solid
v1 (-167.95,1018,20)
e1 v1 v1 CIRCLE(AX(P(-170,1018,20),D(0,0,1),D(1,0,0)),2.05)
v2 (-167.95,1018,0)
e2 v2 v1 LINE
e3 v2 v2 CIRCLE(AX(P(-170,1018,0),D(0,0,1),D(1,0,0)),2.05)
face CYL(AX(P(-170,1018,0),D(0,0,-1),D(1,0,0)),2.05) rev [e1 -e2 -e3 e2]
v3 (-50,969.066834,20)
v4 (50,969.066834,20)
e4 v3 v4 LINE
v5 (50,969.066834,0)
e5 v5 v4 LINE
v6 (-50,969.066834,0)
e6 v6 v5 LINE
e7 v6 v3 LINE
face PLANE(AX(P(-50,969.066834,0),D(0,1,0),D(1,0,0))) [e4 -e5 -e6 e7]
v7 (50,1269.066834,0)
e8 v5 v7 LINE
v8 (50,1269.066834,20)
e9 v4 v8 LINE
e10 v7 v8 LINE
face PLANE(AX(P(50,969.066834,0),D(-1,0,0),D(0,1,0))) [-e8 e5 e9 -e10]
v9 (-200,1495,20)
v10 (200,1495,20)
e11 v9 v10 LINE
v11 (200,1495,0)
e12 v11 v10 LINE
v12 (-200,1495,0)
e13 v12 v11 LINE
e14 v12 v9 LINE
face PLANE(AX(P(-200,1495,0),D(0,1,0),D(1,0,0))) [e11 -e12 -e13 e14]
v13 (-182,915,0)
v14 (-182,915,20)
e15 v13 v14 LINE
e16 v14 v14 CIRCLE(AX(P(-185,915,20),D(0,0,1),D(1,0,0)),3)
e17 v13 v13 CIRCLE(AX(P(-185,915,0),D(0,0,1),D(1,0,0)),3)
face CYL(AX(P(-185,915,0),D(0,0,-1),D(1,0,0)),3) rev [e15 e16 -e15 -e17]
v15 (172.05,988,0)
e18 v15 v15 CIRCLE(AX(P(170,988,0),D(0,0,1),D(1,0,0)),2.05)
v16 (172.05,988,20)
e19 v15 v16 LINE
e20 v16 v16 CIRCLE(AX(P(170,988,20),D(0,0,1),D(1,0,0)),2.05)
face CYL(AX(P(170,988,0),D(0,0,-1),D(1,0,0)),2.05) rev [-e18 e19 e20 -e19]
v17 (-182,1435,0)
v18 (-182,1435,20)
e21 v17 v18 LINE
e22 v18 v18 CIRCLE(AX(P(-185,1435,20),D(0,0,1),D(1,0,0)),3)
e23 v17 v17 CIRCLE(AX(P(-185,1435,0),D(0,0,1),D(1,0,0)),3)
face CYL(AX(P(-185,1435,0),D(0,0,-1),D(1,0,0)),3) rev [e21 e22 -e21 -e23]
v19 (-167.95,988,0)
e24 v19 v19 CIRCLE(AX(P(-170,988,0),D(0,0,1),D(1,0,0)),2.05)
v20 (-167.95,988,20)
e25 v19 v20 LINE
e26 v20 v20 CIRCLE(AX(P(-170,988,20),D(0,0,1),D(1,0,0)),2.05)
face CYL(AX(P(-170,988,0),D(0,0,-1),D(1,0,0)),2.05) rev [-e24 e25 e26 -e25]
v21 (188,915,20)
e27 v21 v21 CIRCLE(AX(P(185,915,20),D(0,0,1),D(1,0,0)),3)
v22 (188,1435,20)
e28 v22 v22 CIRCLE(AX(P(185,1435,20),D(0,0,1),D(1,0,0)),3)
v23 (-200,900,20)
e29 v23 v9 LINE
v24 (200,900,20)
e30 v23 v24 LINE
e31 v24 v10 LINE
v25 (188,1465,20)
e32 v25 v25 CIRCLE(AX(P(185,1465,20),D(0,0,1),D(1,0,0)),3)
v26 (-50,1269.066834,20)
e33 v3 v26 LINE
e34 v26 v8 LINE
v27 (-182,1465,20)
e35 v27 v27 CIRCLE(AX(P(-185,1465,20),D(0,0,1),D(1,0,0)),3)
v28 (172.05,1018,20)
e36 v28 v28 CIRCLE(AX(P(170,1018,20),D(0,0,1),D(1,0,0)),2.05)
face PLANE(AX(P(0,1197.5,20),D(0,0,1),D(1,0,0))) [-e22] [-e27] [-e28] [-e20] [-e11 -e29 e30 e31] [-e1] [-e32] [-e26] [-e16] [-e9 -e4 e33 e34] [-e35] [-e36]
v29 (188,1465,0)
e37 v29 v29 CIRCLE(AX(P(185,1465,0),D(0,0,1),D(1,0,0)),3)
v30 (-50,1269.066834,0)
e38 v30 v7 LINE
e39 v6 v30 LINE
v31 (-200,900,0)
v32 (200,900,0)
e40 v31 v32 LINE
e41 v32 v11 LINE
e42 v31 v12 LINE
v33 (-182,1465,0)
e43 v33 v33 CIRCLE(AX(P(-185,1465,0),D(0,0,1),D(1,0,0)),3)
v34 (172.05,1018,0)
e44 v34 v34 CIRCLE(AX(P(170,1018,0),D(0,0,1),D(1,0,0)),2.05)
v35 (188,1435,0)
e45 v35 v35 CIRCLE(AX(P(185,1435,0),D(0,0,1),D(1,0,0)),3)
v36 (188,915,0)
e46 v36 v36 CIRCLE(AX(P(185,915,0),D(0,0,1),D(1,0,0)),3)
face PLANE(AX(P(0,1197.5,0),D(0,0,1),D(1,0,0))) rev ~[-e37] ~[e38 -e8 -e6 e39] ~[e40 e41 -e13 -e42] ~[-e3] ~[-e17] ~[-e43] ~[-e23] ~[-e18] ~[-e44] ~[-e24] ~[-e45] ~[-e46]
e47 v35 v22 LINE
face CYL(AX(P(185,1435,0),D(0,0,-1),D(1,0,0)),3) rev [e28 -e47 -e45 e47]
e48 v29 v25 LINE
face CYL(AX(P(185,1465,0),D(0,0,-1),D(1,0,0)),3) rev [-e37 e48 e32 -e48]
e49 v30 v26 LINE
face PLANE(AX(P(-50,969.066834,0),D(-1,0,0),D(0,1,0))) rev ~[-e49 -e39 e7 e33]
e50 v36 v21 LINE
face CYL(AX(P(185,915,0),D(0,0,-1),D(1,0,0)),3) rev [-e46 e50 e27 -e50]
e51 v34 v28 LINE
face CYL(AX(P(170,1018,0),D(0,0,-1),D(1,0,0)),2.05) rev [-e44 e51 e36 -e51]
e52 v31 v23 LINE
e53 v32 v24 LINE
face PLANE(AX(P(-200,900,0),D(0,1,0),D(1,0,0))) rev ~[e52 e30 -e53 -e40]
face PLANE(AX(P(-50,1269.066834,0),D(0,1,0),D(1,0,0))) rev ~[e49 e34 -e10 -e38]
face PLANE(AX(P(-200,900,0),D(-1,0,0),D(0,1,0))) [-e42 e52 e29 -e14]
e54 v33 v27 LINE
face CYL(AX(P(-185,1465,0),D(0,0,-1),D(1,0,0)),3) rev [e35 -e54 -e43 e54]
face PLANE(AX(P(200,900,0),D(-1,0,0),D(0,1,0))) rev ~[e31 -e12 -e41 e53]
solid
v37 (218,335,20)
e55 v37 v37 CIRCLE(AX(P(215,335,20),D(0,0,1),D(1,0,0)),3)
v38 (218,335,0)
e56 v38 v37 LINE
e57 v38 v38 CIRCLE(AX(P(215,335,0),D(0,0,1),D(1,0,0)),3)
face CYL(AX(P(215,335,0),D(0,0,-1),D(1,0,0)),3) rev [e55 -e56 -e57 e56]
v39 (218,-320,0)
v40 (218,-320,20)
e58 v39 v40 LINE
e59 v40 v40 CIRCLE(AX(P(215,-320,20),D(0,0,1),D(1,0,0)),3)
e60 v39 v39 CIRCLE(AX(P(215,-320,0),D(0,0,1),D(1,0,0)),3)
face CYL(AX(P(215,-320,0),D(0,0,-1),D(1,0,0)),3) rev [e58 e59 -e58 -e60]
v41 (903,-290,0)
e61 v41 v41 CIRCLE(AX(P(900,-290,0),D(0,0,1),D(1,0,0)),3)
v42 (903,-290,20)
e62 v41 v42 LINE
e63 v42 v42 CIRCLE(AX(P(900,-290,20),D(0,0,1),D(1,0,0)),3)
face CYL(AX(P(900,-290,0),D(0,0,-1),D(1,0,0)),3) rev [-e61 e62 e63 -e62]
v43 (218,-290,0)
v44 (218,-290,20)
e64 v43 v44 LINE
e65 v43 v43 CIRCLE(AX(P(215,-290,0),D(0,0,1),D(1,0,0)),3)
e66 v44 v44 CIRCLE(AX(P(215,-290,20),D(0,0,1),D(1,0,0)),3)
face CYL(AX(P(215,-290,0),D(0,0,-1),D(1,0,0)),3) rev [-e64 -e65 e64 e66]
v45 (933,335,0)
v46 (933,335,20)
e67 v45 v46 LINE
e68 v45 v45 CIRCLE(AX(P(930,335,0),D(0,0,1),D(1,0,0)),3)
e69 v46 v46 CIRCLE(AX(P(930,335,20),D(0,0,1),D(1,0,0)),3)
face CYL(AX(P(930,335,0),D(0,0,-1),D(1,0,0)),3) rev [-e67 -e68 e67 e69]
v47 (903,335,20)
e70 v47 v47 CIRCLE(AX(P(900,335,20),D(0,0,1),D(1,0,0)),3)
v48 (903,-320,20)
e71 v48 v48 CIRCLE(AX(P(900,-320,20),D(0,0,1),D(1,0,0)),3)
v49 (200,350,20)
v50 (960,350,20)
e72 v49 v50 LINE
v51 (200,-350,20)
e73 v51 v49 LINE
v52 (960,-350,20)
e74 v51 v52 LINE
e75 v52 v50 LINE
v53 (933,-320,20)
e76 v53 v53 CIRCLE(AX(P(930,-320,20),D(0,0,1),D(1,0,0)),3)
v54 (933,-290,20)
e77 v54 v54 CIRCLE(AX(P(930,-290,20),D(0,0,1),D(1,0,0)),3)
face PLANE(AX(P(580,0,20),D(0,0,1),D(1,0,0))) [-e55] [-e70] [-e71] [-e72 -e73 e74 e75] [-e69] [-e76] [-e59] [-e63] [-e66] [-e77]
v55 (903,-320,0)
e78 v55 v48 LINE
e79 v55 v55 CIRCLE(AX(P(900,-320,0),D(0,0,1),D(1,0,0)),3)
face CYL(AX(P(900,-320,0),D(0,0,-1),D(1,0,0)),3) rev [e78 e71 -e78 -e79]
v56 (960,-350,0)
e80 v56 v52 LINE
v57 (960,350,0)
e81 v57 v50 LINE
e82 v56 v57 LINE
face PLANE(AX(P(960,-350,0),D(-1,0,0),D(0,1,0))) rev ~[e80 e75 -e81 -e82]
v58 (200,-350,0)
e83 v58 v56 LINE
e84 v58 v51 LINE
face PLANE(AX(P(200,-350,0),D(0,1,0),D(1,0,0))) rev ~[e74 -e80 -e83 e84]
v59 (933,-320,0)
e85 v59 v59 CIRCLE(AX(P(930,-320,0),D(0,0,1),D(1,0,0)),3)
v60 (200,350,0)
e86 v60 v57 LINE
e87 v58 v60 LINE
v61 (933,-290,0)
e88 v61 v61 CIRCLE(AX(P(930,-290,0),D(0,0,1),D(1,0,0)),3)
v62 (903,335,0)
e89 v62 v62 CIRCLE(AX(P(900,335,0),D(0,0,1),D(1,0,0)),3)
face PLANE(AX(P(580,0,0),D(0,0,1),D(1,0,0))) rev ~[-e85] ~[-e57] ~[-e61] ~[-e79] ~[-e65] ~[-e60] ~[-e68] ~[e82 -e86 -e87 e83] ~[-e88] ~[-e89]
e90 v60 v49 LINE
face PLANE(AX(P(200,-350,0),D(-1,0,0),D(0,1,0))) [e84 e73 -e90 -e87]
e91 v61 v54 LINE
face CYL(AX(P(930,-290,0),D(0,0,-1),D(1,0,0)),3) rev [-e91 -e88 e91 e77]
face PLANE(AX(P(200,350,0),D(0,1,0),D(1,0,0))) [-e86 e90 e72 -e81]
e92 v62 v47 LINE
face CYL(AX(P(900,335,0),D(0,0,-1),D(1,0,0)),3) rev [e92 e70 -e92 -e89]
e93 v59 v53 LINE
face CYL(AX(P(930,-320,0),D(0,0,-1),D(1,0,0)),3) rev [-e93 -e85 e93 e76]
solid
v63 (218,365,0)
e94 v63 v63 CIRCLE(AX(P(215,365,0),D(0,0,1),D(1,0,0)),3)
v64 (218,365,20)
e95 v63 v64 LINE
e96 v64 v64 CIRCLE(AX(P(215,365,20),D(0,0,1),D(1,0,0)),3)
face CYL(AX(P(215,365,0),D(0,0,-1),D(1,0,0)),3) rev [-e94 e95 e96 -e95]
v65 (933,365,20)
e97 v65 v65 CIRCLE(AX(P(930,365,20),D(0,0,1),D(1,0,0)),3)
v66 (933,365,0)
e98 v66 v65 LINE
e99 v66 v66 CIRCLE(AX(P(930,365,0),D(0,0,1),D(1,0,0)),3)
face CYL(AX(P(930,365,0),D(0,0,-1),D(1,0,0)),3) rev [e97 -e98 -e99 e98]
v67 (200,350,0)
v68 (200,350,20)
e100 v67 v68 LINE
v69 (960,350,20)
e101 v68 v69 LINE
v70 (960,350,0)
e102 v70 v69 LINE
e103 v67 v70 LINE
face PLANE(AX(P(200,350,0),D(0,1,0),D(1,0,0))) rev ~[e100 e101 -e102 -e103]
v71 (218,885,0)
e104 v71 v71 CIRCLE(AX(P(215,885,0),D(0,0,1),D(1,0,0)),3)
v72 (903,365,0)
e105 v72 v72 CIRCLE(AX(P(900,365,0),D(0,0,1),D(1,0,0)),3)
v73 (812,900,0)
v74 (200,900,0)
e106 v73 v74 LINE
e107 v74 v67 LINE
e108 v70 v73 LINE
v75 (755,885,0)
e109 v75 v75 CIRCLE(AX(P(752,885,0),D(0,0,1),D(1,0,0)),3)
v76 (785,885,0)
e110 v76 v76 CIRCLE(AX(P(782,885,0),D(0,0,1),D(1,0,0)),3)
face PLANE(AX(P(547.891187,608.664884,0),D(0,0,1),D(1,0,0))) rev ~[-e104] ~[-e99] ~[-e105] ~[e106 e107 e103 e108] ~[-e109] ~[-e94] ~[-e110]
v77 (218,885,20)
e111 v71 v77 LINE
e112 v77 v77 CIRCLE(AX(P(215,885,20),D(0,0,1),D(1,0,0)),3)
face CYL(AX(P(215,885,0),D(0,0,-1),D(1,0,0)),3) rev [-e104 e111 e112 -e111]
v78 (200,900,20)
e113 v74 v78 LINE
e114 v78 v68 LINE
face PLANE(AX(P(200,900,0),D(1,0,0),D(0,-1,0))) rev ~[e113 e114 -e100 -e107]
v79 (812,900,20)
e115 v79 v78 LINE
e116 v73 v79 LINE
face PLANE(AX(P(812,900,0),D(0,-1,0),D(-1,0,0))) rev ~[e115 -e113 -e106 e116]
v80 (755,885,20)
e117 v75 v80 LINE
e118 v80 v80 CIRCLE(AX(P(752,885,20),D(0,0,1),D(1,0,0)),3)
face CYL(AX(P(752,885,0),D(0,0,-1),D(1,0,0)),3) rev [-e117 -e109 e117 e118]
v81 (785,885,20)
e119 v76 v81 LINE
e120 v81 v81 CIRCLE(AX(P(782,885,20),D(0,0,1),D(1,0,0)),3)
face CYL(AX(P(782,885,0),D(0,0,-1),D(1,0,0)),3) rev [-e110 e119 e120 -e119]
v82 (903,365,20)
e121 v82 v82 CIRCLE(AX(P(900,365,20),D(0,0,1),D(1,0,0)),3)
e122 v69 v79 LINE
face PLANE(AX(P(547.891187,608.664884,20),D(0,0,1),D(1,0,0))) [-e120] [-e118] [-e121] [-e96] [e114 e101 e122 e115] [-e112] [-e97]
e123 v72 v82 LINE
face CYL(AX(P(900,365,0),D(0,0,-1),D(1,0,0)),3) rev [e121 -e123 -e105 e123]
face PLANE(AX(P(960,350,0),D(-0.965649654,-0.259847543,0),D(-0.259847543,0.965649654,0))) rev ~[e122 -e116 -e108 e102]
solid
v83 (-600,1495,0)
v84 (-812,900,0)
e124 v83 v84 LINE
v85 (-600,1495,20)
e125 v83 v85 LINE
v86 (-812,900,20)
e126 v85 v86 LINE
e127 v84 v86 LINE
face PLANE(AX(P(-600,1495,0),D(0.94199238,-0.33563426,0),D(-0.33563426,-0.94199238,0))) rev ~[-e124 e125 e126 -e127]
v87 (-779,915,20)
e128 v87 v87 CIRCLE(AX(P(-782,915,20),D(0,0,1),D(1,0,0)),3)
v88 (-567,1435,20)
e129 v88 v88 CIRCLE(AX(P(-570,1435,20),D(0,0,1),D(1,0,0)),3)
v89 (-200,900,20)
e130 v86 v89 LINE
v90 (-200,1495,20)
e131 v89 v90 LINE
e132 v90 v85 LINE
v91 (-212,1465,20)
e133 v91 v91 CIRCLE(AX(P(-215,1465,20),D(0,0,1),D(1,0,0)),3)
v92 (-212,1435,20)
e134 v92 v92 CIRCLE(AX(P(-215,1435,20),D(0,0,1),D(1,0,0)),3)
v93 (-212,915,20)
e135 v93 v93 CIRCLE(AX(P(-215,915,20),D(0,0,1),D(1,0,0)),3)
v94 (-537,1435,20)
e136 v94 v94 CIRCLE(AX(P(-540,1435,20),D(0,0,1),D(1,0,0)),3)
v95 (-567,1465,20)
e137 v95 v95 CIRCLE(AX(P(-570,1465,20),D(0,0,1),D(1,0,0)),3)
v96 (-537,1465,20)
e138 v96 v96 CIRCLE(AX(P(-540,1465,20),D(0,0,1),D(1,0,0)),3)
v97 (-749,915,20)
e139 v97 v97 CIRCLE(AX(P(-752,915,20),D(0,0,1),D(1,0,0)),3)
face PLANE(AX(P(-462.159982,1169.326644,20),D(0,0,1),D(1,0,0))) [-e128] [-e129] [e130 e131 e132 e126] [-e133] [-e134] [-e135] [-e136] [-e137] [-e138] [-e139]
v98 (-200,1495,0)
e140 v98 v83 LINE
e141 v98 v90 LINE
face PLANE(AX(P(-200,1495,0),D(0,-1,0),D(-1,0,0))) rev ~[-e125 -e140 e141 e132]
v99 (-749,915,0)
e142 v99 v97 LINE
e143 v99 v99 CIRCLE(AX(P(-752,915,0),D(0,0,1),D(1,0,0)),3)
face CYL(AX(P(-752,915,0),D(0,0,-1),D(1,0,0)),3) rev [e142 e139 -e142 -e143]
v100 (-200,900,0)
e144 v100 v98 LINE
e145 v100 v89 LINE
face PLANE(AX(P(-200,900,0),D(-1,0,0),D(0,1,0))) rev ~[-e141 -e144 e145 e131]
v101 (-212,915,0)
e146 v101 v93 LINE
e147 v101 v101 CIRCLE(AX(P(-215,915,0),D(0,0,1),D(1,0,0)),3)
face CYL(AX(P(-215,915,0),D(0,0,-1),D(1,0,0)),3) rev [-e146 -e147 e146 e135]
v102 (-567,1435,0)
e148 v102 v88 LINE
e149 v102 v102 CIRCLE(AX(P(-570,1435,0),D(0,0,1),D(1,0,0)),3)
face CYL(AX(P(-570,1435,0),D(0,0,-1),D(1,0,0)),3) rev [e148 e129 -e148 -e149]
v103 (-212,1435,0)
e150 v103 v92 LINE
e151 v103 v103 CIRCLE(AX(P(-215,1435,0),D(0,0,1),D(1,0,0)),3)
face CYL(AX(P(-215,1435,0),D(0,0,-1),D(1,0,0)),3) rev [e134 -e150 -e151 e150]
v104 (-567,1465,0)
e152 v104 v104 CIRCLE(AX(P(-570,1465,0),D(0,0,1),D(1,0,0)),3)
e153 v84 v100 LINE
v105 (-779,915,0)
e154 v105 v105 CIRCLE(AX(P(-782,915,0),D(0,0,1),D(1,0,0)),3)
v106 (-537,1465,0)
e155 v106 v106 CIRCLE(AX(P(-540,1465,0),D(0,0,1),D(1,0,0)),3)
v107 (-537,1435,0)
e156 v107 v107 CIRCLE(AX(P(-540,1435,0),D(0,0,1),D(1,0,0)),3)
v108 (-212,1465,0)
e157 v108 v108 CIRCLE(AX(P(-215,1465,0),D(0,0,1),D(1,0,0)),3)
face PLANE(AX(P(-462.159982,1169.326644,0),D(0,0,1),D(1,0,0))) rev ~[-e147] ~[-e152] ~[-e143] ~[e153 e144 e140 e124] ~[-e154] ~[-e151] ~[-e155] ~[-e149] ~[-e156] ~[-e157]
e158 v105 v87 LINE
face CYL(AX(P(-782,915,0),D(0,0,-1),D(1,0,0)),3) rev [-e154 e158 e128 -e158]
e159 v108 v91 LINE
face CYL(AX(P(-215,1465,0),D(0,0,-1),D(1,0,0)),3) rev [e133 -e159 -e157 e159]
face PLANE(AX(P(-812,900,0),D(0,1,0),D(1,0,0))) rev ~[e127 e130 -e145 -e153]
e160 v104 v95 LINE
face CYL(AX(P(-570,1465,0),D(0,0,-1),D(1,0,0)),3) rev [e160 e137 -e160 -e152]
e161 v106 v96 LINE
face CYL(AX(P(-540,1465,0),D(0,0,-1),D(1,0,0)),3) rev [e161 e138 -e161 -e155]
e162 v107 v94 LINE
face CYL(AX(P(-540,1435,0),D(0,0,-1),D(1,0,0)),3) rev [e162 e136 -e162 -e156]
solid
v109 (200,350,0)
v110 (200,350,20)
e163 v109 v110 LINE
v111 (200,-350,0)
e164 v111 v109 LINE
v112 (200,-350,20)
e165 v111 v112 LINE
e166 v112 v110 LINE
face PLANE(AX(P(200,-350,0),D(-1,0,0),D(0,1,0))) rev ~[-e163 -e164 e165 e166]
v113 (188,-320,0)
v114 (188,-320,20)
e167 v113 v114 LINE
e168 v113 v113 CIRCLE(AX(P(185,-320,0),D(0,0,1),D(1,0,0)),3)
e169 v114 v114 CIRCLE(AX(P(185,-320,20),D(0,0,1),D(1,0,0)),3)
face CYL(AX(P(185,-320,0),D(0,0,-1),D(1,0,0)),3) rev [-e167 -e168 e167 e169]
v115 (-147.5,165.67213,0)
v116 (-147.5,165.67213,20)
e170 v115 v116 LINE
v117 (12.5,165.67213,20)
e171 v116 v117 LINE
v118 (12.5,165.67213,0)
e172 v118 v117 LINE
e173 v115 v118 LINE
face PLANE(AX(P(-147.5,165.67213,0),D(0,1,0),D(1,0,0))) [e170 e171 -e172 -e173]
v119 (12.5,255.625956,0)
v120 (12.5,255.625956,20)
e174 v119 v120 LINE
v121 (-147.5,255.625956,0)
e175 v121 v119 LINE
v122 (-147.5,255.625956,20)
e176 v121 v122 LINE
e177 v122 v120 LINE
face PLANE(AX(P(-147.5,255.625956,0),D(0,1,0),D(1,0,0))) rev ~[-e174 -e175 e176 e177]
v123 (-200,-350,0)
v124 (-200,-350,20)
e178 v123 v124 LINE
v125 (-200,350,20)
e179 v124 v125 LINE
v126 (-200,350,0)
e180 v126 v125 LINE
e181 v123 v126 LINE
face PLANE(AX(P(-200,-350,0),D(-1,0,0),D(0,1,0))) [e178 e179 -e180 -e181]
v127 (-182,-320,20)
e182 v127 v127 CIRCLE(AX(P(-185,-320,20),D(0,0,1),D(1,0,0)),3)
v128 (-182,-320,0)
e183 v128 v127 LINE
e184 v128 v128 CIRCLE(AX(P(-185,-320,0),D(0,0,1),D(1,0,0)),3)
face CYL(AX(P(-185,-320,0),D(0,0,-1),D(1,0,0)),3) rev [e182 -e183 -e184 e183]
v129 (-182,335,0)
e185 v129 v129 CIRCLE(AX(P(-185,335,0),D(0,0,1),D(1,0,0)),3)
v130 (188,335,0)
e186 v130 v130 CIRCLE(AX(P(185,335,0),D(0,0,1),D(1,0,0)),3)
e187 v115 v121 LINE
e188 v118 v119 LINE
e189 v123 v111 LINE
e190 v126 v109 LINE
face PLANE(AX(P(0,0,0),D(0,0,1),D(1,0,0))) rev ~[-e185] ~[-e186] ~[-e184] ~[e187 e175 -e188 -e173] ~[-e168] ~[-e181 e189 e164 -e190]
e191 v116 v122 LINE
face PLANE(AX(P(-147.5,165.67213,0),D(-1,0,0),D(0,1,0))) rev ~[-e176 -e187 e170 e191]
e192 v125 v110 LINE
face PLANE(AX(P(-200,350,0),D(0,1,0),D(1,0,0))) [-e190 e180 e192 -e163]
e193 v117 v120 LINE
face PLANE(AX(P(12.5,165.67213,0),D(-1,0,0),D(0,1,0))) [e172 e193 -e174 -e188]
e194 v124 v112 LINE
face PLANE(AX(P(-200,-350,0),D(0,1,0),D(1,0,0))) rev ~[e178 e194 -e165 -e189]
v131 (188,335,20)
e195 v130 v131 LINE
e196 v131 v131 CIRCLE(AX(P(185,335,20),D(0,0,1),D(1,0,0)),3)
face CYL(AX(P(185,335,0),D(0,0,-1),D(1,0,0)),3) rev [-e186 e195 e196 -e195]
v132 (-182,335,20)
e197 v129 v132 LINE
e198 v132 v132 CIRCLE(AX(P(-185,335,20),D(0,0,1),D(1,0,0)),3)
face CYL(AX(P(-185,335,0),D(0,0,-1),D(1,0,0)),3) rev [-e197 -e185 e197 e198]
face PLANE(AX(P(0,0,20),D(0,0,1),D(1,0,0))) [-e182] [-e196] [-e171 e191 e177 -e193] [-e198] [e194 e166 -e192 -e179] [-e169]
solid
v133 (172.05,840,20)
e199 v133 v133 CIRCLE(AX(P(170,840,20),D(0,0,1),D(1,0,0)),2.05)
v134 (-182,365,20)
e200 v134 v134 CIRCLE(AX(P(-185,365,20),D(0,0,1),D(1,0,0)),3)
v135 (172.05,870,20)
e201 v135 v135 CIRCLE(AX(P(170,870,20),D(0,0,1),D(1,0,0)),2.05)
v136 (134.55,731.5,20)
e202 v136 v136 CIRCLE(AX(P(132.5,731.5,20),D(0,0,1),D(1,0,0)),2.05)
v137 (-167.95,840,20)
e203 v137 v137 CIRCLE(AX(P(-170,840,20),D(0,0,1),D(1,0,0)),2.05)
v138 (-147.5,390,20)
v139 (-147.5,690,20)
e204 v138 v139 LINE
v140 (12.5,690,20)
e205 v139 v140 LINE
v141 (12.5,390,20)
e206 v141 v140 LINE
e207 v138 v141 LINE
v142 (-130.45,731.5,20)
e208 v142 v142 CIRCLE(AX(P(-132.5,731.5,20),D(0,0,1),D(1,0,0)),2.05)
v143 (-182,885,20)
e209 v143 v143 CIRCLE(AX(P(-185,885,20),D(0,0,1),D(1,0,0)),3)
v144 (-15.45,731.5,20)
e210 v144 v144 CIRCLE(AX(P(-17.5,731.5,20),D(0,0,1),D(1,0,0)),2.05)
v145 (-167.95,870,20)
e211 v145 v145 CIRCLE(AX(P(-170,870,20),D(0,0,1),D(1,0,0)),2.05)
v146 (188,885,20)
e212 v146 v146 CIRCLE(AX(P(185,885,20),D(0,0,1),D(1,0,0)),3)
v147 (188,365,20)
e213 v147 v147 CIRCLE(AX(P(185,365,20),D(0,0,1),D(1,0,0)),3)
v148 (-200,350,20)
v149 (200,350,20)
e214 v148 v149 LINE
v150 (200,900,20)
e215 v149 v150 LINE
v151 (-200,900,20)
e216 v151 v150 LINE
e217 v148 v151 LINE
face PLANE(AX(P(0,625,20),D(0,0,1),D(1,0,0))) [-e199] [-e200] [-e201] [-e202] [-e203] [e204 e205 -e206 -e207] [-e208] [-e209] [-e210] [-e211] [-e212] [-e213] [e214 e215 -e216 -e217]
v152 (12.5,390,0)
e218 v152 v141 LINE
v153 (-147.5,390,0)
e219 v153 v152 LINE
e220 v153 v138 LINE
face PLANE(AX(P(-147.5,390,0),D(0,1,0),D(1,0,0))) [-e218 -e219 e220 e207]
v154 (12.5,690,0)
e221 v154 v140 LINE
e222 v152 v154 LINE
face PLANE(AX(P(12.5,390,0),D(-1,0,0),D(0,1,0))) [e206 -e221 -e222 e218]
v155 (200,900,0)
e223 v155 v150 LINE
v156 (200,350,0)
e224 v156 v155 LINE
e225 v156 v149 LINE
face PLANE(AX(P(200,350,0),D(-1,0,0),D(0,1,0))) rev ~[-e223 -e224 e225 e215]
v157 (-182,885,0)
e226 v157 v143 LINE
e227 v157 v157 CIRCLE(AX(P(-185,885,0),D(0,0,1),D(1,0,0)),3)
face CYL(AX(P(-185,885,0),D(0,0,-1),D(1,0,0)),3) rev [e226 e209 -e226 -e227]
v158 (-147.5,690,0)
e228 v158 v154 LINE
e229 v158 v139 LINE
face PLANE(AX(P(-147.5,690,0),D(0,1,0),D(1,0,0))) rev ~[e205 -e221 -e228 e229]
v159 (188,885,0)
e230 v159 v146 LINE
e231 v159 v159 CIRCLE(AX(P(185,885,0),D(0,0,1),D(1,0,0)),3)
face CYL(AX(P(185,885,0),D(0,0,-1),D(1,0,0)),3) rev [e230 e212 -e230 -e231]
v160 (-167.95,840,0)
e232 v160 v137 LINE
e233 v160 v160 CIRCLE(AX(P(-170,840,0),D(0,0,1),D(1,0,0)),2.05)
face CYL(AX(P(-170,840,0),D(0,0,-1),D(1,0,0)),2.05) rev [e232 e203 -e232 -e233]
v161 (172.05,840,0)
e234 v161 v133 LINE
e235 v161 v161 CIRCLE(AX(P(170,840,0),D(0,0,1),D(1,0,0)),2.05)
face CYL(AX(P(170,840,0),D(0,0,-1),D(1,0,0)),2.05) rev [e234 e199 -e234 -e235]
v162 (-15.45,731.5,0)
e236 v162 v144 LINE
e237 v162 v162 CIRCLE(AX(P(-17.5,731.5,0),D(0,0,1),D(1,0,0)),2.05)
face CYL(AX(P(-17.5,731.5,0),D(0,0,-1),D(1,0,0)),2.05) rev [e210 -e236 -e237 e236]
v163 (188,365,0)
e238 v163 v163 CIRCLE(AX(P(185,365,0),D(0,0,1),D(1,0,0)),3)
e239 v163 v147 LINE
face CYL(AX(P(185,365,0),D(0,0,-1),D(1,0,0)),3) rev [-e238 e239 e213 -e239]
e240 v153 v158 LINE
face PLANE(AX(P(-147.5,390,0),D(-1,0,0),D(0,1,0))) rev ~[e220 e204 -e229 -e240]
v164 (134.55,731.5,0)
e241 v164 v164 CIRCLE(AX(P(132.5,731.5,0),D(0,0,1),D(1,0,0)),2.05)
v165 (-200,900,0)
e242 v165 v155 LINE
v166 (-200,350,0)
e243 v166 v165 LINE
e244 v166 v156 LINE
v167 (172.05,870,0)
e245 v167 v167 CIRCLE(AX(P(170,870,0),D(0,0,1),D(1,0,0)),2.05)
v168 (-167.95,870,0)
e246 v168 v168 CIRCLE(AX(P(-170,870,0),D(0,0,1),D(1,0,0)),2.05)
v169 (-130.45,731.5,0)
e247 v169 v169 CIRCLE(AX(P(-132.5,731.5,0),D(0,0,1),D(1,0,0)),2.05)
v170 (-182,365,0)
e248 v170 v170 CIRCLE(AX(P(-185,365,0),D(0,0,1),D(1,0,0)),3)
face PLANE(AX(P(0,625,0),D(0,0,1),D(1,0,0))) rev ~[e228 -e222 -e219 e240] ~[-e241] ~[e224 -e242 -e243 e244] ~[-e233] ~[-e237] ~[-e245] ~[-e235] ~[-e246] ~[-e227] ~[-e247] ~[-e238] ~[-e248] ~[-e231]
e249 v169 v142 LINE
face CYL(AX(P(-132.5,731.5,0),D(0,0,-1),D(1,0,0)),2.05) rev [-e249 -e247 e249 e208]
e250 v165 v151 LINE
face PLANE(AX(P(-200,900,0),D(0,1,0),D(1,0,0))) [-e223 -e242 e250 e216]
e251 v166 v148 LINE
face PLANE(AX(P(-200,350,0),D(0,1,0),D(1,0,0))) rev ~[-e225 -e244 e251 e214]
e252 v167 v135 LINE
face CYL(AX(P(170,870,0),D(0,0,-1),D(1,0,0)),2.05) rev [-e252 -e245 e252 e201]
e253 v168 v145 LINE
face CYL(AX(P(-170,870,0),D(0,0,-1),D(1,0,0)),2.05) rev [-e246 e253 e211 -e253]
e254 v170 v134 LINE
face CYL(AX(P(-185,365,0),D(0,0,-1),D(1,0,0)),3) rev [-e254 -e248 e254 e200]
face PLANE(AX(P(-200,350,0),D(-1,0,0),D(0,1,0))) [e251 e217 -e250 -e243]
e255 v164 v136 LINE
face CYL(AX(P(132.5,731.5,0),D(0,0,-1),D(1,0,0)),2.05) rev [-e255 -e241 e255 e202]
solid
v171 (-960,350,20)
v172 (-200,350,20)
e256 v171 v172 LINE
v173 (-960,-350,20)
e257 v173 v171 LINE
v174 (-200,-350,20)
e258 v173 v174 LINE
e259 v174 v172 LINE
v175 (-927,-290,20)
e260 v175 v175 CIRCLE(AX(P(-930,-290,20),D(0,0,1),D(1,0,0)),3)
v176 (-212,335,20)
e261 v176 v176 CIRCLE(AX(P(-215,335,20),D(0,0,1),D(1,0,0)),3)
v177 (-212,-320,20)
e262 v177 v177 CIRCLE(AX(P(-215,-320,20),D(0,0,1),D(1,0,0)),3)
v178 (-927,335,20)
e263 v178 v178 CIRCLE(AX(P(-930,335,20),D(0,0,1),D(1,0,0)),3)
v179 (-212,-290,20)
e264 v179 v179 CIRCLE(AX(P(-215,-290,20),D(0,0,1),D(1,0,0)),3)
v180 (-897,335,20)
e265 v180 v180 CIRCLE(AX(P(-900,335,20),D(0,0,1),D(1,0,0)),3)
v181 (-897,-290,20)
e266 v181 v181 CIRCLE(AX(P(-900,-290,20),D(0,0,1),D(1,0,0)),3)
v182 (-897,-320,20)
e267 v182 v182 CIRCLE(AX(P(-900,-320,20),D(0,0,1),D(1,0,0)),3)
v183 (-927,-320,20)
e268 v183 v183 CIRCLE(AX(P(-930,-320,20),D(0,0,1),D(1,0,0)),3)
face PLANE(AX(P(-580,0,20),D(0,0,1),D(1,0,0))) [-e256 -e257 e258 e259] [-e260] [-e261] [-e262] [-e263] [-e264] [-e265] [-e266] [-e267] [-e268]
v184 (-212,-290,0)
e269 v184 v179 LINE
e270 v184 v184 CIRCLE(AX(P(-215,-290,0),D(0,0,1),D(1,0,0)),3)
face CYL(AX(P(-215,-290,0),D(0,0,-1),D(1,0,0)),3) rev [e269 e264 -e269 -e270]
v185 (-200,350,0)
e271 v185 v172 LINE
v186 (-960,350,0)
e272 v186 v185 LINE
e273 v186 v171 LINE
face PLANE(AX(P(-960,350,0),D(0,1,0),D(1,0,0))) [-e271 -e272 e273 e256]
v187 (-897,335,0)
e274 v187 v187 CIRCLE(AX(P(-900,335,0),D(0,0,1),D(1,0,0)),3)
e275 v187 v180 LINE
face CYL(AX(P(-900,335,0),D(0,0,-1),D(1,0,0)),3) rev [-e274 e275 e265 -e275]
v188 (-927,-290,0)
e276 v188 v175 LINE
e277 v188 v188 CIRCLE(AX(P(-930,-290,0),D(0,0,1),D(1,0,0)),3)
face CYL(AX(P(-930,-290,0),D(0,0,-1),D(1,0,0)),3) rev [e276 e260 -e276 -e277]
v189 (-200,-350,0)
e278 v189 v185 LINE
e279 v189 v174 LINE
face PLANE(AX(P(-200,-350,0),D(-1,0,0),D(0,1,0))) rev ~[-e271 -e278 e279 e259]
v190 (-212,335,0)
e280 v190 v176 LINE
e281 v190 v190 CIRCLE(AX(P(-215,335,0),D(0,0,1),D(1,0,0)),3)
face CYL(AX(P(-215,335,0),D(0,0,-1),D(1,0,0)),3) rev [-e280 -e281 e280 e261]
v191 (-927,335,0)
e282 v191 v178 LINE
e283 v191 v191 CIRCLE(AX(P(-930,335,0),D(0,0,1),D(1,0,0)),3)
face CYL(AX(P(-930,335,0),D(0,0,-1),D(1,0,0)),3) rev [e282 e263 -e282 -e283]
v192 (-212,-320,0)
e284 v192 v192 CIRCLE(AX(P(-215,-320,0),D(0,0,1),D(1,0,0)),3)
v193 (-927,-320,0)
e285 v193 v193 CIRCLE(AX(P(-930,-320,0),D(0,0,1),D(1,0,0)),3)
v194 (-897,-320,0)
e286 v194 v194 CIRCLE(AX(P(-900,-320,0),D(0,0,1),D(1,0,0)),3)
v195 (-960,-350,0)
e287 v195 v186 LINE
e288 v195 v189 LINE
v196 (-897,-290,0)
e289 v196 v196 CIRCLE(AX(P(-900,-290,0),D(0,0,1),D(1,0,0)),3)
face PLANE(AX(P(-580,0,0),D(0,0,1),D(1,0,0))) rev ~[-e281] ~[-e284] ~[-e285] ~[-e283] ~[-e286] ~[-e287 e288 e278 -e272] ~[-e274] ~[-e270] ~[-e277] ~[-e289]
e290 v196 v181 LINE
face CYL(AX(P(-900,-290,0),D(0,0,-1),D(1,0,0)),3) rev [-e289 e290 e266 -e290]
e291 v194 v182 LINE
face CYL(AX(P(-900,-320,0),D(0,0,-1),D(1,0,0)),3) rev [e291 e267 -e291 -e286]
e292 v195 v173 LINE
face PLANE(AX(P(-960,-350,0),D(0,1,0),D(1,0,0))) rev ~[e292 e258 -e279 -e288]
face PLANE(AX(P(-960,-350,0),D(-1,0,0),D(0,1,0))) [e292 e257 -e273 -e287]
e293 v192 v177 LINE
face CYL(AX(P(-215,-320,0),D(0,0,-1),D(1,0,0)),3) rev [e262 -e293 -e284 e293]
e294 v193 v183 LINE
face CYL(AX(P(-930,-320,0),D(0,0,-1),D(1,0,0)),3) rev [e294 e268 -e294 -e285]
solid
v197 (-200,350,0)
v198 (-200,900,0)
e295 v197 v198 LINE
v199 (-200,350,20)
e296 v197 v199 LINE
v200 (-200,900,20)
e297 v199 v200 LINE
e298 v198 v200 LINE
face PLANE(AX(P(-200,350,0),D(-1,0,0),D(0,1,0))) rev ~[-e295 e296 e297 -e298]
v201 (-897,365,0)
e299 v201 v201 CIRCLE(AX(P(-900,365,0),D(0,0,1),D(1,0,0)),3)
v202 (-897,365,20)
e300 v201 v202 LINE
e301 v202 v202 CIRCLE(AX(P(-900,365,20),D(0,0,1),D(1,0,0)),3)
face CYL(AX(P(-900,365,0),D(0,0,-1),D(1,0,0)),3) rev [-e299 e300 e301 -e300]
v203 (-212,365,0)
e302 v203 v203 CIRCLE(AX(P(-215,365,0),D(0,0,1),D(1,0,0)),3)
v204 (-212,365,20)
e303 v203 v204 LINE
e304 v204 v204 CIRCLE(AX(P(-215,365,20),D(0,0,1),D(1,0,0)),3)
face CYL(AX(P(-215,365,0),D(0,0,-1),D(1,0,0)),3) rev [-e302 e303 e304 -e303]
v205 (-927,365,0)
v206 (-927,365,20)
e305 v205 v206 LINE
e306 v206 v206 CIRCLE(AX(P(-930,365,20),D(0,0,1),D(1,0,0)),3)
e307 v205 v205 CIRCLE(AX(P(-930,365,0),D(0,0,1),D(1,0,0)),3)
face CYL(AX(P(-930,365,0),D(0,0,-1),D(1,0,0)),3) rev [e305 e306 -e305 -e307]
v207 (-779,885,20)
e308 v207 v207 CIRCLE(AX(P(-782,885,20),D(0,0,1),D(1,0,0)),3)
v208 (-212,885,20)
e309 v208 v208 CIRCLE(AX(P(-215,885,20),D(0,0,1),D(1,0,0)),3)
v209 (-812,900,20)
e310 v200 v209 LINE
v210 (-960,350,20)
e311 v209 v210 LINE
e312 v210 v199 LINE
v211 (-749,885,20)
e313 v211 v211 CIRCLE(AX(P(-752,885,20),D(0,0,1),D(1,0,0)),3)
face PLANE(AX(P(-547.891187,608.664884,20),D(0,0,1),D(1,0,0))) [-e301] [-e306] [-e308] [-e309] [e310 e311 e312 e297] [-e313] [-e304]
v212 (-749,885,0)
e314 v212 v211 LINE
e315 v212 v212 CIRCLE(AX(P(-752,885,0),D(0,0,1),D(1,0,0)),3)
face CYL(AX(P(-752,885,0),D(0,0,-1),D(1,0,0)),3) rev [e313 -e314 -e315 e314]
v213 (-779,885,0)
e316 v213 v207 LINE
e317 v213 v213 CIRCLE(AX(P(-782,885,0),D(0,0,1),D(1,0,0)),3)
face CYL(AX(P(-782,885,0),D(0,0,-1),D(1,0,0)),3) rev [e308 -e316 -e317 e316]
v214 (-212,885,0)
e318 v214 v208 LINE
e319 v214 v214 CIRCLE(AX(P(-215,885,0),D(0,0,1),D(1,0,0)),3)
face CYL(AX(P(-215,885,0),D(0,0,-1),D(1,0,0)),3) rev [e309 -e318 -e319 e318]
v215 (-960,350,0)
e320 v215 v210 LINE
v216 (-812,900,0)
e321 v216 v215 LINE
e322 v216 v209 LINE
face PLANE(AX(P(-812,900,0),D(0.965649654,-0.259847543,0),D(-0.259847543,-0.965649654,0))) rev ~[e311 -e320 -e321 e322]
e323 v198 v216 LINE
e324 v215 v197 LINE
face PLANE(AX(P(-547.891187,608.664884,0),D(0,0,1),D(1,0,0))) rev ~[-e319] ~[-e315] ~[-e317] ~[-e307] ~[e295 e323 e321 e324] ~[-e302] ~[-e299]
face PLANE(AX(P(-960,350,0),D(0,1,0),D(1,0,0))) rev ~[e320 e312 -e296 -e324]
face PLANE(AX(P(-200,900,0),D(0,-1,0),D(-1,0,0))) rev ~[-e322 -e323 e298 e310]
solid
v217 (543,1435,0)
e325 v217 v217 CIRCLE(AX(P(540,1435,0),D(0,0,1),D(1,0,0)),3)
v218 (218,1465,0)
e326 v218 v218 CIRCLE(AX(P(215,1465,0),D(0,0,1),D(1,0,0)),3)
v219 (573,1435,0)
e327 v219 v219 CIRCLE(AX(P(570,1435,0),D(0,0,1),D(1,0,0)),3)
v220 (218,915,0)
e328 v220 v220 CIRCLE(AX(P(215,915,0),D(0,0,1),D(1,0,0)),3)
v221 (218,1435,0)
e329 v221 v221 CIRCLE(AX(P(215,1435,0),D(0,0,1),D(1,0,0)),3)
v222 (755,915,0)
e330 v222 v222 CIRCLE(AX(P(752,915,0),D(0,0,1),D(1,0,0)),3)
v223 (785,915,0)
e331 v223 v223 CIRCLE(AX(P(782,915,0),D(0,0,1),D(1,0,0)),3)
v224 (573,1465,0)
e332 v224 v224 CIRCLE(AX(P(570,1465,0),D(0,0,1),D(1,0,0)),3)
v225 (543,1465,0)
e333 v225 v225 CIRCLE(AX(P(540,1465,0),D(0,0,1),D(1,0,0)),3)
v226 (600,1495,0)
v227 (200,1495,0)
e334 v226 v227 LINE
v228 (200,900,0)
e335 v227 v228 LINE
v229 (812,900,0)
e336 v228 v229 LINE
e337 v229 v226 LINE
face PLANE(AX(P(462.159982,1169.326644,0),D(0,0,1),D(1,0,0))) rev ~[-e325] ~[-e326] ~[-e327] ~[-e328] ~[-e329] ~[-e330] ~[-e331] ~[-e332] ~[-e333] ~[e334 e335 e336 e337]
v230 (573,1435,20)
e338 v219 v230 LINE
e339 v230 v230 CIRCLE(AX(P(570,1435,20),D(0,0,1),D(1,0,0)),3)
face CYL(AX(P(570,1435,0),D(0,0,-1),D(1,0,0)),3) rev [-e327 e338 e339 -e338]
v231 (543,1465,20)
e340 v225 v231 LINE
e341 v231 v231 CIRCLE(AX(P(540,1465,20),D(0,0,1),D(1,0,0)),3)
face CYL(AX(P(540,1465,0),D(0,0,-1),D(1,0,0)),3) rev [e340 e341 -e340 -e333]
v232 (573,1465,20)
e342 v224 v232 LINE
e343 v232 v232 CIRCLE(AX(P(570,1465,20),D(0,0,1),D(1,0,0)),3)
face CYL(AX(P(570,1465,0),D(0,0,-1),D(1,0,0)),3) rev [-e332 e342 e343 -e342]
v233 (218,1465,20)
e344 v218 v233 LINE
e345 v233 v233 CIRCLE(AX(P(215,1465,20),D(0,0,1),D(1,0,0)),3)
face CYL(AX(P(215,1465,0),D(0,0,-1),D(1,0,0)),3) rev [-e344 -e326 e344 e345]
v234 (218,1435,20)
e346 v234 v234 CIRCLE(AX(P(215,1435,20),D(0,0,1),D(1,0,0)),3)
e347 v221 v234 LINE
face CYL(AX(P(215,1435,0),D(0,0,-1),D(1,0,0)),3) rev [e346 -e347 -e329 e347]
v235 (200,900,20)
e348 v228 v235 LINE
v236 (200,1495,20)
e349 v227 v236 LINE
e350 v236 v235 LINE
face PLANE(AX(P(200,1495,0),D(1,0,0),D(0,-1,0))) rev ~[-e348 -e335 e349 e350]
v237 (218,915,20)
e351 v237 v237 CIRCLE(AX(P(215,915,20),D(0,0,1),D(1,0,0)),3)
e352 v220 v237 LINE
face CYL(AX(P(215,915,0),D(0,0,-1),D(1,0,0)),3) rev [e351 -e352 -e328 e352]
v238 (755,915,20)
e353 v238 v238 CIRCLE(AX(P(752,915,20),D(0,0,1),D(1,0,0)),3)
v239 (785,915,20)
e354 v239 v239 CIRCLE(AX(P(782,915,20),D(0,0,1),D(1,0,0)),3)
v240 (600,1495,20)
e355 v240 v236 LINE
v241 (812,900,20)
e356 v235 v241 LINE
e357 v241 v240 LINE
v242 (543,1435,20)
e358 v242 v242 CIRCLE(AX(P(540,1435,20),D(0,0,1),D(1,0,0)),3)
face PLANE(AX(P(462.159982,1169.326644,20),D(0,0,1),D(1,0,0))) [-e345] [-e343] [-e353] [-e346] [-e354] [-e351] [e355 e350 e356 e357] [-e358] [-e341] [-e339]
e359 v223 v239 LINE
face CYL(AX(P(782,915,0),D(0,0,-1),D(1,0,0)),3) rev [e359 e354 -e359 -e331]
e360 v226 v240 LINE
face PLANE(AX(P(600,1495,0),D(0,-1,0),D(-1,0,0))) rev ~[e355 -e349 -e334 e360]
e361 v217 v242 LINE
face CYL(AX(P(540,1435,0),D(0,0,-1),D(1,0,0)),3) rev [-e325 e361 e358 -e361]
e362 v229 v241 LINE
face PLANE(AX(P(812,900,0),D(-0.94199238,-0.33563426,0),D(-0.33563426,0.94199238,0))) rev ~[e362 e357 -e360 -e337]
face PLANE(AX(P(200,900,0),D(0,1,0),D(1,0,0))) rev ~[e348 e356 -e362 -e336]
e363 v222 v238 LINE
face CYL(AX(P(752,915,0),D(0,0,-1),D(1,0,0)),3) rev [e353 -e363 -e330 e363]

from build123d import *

# Parameters (mm, degrees)
F0_W      = 400
F0_H      = 700
F0_R      = 3
F0_W_2    = 160
F0_H_2    = 89.953826
F1_DEPTH  = 20
F2_R      = 3
F3_DEPTH  = 20
F4_DEPTH  = 20
F5_W      = 400
F5_H      = 550
F5_R      = 3
F5_W_2    = 160
F5_H_2    = 300
F5_R_2    = 2.05
F6_DEPTH  = 20
F7_W      = 400
F7_H      = 595
F7_R      = 3
F7_R_2    = 2.05
F7_W_2    = 100
F7_H_2    = 300
F8_DEPTH  = 20
F9_W      = 760
F9_H      = 700
F9_R      = 3
F10_DEPTH = 20


with BuildPart() as f1:
    # F0 (on Top) → F1 (new body)
    with BuildSketch(Plane.XY):
        Rectangle(F0_W, F0_H)
        with Locations((-185, -320)):
            Circle(F0_R, mode=Mode.SUBTRACT)
        with Locations((185, -320)):
            Circle(F0_R, mode=Mode.SUBTRACT)
        with Locations((-185, 335)):
            Circle(F0_R, mode=Mode.SUBTRACT)
        with Locations((-67.5, 210.649043)):
            Rectangle(F0_W_2, F0_H_2, mode=Mode.SUBTRACT)
        with Locations((185, 335)):
            Circle(F0_R, mode=Mode.SUBTRACT)
    extrude(amount=F1_DEPTH)


with BuildPart() as f3:
    # F2 (on Top) → F3 (new body)
    with BuildSketch(Plane.XY):
        Polygon((-200, 350), (-200, 900), (-812, 900), (-960, 350), align=None)
        with Locations((-930, 365)):
            Circle(F2_R, mode=Mode.SUBTRACT)
        with Locations((-900, 365)):
            Circle(F2_R, mode=Mode.SUBTRACT)
        with Locations((-215, 365)):
            Circle(F2_R, mode=Mode.SUBTRACT)
        with Locations((-782, 885)):
            Circle(F2_R, mode=Mode.SUBTRACT)
        with Locations((-752, 885)):
            Circle(F2_R, mode=Mode.SUBTRACT)
        with Locations((-215, 885)):
            Circle(F2_R, mode=Mode.SUBTRACT)
        Polygon((812, 900), (200, 900), (200, 350), (960, 350), align=None)
        with Locations((215, 365)):
            Circle(F2_R, mode=Mode.SUBTRACT)
        with Locations((900, 365)):
            Circle(F2_R, mode=Mode.SUBTRACT)
        with Locations((930, 365)):
            Circle(F2_R, mode=Mode.SUBTRACT)
        with Locations((215, 885)):
            Circle(F2_R, mode=Mode.SUBTRACT)
        with Locations((752, 885)):
            Circle(F2_R, mode=Mode.SUBTRACT)
        with Locations((782, 885)):
            Circle(F2_R, mode=Mode.SUBTRACT)
    extrude(amount=F3_DEPTH)


with BuildPart() as f4:
    # F2 (on Top) → F4 (new body)
    with BuildSketch(Plane.XY):
        Polygon((-812, 900), (-200, 900), (-200, 1495), (-600, 1495), align=None)
        with Locations((-782, 915)):
            Circle(F2_R, mode=Mode.SUBTRACT)
        with Locations((-752, 915)):
            Circle(F2_R, mode=Mode.SUBTRACT)
        with Locations((-215, 915)):
            Circle(F2_R, mode=Mode.SUBTRACT)
        with Locations((-570, 1435)):
            Circle(F2_R, mode=Mode.SUBTRACT)
        with Locations((-540, 1435)):
            Circle(F2_R, mode=Mode.SUBTRACT)
        with Locations((-570, 1465)):
            Circle(F2_R, mode=Mode.SUBTRACT)
        with Locations((-540, 1465)):
            Circle(F2_R, mode=Mode.SUBTRACT)
        with Locations((-215, 1435)):
            Circle(F2_R, mode=Mode.SUBTRACT)
        with Locations((-215, 1465)):
            Circle(F2_R, mode=Mode.SUBTRACT)
        Polygon((600, 1495), (200, 1495), (200, 900), (812, 900), align=None)
        with Locations((215, 915)):
            Circle(F2_R, mode=Mode.SUBTRACT)
        with Locations((752, 915)):
            Circle(F2_R, mode=Mode.SUBTRACT)
        with Locations((782, 915)):
            Circle(F2_R, mode=Mode.SUBTRACT)
        with Locations((215, 1435)):
            Circle(F2_R, mode=Mode.SUBTRACT)
        with Locations((215, 1465)):
            Circle(F2_R, mode=Mode.SUBTRACT)
        with Locations((540, 1435)):
            Circle(F2_R, mode=Mode.SUBTRACT)
        with Locations((570, 1435)):
            Circle(F2_R, mode=Mode.SUBTRACT)
        with Locations((540, 1465)):
            Circle(F2_R, mode=Mode.SUBTRACT)
        with Locations((570, 1465)):
            Circle(F2_R, mode=Mode.SUBTRACT)
    extrude(amount=F4_DEPTH)


with BuildPart() as f6:
    # F5 (on Top) → F6 (new body)
    with BuildSketch(Plane.XY):
        with Locations((0, 625)):
            Rectangle(F5_W, F5_H)
        with Locations((-185, 365)):
            Circle(F5_R, mode=Mode.SUBTRACT)
        with Locations((-67.5, 540)):
            Rectangle(F5_W_2, F5_H_2, mode=Mode.SUBTRACT)
        with Locations((185, 365)):
            Circle(F5_R, mode=Mode.SUBTRACT)
        with Locations((-132.5, 731.5)):
            Circle(F5_R_2, mode=Mode.SUBTRACT)
        with Locations((-17.5, 731.5)):
            Circle(F5_R_2, mode=Mode.SUBTRACT)
        with Locations((-170, 840)):
            Circle(F5_R_2, mode=Mode.SUBTRACT)
        with Locations((-185, 885)):
            Circle(F5_R, mode=Mode.SUBTRACT)
        with Locations((-170, 870)):
            Circle(F5_R_2, mode=Mode.SUBTRACT)
        with Locations((132.5, 731.5)):
            Circle(F5_R_2, mode=Mode.SUBTRACT)
        with Locations((170, 840)):
            Circle(F5_R_2, mode=Mode.SUBTRACT)
        with Locations((170, 870)):
            Circle(F5_R_2, mode=Mode.SUBTRACT)
        with Locations((185, 885)):
            Circle(F5_R, mode=Mode.SUBTRACT)
    extrude(amount=F6_DEPTH)


with BuildPart() as f8:
    # F7 (on Top) → F8 (new body)
    with BuildSketch(Plane.XY):
        with Locations((0, 1197.5)):
            Rectangle(F7_W, F7_H)
        with Locations((-185, 915)):
            Circle(F7_R, mode=Mode.SUBTRACT)
        with Locations((-170, 988)):
            Circle(F7_R_2, mode=Mode.SUBTRACT)
        with Locations((-170, 1018)):
            Circle(F7_R_2, mode=Mode.SUBTRACT)
        with Locations((185, 915)):
            Circle(F7_R, mode=Mode.SUBTRACT)
        with Locations((170, 988)):
            Circle(F7_R_2, mode=Mode.SUBTRACT)
        with Locations((170, 1018)):
            Circle(F7_R_2, mode=Mode.SUBTRACT)
        with Locations((0, 1119.066834)):
            Rectangle(F7_W_2, F7_H_2, mode=Mode.SUBTRACT)
        with Locations((-185, 1435)):
            Circle(F7_R, mode=Mode.SUBTRACT)
        with Locations((-185, 1465)):
            Circle(F7_R, mode=Mode.SUBTRACT)
        with Locations((185, 1435)):
            Circle(F7_R, mode=Mode.SUBTRACT)
        with Locations((185, 1465)):
            Circle(F7_R, mode=Mode.SUBTRACT)
    extrude(amount=F8_DEPTH)


with BuildPart() as f10:
    # F9 (on Top) → F10 (new body)
    with BuildSketch(Plane.XY):
        with Locations((-580, 0)):
            Rectangle(F9_W, F9_H)
        with Locations((-930, -320)):
            Circle(F9_R, mode=Mode.SUBTRACT)
        with Locations((-900, -320)):
            Circle(F9_R, mode=Mode.SUBTRACT)
        with Locations((-930, -290)):
            Circle(F9_R, mode=Mode.SUBTRACT)
        with Locations((-900, -290)):
            Circle(F9_R, mode=Mode.SUBTRACT)
        with Locations((-215, -320)):
            Circle(F9_R, mode=Mode.SUBTRACT)
        with Locations((-215, -290)):
            Circle(F9_R, mode=Mode.SUBTRACT)
        with Locations((-930, 335)):
            Circle(F9_R, mode=Mode.SUBTRACT)
        with Locations((-900, 335)):
            Circle(F9_R, mode=Mode.SUBTRACT)
        with Locations((-215, 335)):
            Circle(F9_R, mode=Mode.SUBTRACT)
        with Locations((580, 0)):
            Rectangle(F9_W, F9_H)
        with Locations((215, -320)):
            Circle(F9_R, mode=Mode.SUBTRACT)
        with Locations((215, -290)):
            Circle(F9_R, mode=Mode.SUBTRACT)
        with Locations((900, -320)):
            Circle(F9_R, mode=Mode.SUBTRACT)
        with Locations((930, -320)):
            Circle(F9_R, mode=Mode.SUBTRACT)
        with Locations((900, -290)):
            Circle(F9_R, mode=Mode.SUBTRACT)
        with Locations((930, -290)):
            Circle(F9_R, mode=Mode.SUBTRACT)
        with Locations((215, 335)):
            Circle(F9_R, mode=Mode.SUBTRACT)
        with Locations((900, 335)):
            Circle(F9_R, mode=Mode.SUBTRACT)
        with Locations((930, 335)):
            Circle(F9_R, mode=Mode.SUBTRACT)
    extrude(amount=F10_DEPTH)


solid = Compound([f1.part, f3.part, f4.part, f6.part, f8.part, f10.part])
